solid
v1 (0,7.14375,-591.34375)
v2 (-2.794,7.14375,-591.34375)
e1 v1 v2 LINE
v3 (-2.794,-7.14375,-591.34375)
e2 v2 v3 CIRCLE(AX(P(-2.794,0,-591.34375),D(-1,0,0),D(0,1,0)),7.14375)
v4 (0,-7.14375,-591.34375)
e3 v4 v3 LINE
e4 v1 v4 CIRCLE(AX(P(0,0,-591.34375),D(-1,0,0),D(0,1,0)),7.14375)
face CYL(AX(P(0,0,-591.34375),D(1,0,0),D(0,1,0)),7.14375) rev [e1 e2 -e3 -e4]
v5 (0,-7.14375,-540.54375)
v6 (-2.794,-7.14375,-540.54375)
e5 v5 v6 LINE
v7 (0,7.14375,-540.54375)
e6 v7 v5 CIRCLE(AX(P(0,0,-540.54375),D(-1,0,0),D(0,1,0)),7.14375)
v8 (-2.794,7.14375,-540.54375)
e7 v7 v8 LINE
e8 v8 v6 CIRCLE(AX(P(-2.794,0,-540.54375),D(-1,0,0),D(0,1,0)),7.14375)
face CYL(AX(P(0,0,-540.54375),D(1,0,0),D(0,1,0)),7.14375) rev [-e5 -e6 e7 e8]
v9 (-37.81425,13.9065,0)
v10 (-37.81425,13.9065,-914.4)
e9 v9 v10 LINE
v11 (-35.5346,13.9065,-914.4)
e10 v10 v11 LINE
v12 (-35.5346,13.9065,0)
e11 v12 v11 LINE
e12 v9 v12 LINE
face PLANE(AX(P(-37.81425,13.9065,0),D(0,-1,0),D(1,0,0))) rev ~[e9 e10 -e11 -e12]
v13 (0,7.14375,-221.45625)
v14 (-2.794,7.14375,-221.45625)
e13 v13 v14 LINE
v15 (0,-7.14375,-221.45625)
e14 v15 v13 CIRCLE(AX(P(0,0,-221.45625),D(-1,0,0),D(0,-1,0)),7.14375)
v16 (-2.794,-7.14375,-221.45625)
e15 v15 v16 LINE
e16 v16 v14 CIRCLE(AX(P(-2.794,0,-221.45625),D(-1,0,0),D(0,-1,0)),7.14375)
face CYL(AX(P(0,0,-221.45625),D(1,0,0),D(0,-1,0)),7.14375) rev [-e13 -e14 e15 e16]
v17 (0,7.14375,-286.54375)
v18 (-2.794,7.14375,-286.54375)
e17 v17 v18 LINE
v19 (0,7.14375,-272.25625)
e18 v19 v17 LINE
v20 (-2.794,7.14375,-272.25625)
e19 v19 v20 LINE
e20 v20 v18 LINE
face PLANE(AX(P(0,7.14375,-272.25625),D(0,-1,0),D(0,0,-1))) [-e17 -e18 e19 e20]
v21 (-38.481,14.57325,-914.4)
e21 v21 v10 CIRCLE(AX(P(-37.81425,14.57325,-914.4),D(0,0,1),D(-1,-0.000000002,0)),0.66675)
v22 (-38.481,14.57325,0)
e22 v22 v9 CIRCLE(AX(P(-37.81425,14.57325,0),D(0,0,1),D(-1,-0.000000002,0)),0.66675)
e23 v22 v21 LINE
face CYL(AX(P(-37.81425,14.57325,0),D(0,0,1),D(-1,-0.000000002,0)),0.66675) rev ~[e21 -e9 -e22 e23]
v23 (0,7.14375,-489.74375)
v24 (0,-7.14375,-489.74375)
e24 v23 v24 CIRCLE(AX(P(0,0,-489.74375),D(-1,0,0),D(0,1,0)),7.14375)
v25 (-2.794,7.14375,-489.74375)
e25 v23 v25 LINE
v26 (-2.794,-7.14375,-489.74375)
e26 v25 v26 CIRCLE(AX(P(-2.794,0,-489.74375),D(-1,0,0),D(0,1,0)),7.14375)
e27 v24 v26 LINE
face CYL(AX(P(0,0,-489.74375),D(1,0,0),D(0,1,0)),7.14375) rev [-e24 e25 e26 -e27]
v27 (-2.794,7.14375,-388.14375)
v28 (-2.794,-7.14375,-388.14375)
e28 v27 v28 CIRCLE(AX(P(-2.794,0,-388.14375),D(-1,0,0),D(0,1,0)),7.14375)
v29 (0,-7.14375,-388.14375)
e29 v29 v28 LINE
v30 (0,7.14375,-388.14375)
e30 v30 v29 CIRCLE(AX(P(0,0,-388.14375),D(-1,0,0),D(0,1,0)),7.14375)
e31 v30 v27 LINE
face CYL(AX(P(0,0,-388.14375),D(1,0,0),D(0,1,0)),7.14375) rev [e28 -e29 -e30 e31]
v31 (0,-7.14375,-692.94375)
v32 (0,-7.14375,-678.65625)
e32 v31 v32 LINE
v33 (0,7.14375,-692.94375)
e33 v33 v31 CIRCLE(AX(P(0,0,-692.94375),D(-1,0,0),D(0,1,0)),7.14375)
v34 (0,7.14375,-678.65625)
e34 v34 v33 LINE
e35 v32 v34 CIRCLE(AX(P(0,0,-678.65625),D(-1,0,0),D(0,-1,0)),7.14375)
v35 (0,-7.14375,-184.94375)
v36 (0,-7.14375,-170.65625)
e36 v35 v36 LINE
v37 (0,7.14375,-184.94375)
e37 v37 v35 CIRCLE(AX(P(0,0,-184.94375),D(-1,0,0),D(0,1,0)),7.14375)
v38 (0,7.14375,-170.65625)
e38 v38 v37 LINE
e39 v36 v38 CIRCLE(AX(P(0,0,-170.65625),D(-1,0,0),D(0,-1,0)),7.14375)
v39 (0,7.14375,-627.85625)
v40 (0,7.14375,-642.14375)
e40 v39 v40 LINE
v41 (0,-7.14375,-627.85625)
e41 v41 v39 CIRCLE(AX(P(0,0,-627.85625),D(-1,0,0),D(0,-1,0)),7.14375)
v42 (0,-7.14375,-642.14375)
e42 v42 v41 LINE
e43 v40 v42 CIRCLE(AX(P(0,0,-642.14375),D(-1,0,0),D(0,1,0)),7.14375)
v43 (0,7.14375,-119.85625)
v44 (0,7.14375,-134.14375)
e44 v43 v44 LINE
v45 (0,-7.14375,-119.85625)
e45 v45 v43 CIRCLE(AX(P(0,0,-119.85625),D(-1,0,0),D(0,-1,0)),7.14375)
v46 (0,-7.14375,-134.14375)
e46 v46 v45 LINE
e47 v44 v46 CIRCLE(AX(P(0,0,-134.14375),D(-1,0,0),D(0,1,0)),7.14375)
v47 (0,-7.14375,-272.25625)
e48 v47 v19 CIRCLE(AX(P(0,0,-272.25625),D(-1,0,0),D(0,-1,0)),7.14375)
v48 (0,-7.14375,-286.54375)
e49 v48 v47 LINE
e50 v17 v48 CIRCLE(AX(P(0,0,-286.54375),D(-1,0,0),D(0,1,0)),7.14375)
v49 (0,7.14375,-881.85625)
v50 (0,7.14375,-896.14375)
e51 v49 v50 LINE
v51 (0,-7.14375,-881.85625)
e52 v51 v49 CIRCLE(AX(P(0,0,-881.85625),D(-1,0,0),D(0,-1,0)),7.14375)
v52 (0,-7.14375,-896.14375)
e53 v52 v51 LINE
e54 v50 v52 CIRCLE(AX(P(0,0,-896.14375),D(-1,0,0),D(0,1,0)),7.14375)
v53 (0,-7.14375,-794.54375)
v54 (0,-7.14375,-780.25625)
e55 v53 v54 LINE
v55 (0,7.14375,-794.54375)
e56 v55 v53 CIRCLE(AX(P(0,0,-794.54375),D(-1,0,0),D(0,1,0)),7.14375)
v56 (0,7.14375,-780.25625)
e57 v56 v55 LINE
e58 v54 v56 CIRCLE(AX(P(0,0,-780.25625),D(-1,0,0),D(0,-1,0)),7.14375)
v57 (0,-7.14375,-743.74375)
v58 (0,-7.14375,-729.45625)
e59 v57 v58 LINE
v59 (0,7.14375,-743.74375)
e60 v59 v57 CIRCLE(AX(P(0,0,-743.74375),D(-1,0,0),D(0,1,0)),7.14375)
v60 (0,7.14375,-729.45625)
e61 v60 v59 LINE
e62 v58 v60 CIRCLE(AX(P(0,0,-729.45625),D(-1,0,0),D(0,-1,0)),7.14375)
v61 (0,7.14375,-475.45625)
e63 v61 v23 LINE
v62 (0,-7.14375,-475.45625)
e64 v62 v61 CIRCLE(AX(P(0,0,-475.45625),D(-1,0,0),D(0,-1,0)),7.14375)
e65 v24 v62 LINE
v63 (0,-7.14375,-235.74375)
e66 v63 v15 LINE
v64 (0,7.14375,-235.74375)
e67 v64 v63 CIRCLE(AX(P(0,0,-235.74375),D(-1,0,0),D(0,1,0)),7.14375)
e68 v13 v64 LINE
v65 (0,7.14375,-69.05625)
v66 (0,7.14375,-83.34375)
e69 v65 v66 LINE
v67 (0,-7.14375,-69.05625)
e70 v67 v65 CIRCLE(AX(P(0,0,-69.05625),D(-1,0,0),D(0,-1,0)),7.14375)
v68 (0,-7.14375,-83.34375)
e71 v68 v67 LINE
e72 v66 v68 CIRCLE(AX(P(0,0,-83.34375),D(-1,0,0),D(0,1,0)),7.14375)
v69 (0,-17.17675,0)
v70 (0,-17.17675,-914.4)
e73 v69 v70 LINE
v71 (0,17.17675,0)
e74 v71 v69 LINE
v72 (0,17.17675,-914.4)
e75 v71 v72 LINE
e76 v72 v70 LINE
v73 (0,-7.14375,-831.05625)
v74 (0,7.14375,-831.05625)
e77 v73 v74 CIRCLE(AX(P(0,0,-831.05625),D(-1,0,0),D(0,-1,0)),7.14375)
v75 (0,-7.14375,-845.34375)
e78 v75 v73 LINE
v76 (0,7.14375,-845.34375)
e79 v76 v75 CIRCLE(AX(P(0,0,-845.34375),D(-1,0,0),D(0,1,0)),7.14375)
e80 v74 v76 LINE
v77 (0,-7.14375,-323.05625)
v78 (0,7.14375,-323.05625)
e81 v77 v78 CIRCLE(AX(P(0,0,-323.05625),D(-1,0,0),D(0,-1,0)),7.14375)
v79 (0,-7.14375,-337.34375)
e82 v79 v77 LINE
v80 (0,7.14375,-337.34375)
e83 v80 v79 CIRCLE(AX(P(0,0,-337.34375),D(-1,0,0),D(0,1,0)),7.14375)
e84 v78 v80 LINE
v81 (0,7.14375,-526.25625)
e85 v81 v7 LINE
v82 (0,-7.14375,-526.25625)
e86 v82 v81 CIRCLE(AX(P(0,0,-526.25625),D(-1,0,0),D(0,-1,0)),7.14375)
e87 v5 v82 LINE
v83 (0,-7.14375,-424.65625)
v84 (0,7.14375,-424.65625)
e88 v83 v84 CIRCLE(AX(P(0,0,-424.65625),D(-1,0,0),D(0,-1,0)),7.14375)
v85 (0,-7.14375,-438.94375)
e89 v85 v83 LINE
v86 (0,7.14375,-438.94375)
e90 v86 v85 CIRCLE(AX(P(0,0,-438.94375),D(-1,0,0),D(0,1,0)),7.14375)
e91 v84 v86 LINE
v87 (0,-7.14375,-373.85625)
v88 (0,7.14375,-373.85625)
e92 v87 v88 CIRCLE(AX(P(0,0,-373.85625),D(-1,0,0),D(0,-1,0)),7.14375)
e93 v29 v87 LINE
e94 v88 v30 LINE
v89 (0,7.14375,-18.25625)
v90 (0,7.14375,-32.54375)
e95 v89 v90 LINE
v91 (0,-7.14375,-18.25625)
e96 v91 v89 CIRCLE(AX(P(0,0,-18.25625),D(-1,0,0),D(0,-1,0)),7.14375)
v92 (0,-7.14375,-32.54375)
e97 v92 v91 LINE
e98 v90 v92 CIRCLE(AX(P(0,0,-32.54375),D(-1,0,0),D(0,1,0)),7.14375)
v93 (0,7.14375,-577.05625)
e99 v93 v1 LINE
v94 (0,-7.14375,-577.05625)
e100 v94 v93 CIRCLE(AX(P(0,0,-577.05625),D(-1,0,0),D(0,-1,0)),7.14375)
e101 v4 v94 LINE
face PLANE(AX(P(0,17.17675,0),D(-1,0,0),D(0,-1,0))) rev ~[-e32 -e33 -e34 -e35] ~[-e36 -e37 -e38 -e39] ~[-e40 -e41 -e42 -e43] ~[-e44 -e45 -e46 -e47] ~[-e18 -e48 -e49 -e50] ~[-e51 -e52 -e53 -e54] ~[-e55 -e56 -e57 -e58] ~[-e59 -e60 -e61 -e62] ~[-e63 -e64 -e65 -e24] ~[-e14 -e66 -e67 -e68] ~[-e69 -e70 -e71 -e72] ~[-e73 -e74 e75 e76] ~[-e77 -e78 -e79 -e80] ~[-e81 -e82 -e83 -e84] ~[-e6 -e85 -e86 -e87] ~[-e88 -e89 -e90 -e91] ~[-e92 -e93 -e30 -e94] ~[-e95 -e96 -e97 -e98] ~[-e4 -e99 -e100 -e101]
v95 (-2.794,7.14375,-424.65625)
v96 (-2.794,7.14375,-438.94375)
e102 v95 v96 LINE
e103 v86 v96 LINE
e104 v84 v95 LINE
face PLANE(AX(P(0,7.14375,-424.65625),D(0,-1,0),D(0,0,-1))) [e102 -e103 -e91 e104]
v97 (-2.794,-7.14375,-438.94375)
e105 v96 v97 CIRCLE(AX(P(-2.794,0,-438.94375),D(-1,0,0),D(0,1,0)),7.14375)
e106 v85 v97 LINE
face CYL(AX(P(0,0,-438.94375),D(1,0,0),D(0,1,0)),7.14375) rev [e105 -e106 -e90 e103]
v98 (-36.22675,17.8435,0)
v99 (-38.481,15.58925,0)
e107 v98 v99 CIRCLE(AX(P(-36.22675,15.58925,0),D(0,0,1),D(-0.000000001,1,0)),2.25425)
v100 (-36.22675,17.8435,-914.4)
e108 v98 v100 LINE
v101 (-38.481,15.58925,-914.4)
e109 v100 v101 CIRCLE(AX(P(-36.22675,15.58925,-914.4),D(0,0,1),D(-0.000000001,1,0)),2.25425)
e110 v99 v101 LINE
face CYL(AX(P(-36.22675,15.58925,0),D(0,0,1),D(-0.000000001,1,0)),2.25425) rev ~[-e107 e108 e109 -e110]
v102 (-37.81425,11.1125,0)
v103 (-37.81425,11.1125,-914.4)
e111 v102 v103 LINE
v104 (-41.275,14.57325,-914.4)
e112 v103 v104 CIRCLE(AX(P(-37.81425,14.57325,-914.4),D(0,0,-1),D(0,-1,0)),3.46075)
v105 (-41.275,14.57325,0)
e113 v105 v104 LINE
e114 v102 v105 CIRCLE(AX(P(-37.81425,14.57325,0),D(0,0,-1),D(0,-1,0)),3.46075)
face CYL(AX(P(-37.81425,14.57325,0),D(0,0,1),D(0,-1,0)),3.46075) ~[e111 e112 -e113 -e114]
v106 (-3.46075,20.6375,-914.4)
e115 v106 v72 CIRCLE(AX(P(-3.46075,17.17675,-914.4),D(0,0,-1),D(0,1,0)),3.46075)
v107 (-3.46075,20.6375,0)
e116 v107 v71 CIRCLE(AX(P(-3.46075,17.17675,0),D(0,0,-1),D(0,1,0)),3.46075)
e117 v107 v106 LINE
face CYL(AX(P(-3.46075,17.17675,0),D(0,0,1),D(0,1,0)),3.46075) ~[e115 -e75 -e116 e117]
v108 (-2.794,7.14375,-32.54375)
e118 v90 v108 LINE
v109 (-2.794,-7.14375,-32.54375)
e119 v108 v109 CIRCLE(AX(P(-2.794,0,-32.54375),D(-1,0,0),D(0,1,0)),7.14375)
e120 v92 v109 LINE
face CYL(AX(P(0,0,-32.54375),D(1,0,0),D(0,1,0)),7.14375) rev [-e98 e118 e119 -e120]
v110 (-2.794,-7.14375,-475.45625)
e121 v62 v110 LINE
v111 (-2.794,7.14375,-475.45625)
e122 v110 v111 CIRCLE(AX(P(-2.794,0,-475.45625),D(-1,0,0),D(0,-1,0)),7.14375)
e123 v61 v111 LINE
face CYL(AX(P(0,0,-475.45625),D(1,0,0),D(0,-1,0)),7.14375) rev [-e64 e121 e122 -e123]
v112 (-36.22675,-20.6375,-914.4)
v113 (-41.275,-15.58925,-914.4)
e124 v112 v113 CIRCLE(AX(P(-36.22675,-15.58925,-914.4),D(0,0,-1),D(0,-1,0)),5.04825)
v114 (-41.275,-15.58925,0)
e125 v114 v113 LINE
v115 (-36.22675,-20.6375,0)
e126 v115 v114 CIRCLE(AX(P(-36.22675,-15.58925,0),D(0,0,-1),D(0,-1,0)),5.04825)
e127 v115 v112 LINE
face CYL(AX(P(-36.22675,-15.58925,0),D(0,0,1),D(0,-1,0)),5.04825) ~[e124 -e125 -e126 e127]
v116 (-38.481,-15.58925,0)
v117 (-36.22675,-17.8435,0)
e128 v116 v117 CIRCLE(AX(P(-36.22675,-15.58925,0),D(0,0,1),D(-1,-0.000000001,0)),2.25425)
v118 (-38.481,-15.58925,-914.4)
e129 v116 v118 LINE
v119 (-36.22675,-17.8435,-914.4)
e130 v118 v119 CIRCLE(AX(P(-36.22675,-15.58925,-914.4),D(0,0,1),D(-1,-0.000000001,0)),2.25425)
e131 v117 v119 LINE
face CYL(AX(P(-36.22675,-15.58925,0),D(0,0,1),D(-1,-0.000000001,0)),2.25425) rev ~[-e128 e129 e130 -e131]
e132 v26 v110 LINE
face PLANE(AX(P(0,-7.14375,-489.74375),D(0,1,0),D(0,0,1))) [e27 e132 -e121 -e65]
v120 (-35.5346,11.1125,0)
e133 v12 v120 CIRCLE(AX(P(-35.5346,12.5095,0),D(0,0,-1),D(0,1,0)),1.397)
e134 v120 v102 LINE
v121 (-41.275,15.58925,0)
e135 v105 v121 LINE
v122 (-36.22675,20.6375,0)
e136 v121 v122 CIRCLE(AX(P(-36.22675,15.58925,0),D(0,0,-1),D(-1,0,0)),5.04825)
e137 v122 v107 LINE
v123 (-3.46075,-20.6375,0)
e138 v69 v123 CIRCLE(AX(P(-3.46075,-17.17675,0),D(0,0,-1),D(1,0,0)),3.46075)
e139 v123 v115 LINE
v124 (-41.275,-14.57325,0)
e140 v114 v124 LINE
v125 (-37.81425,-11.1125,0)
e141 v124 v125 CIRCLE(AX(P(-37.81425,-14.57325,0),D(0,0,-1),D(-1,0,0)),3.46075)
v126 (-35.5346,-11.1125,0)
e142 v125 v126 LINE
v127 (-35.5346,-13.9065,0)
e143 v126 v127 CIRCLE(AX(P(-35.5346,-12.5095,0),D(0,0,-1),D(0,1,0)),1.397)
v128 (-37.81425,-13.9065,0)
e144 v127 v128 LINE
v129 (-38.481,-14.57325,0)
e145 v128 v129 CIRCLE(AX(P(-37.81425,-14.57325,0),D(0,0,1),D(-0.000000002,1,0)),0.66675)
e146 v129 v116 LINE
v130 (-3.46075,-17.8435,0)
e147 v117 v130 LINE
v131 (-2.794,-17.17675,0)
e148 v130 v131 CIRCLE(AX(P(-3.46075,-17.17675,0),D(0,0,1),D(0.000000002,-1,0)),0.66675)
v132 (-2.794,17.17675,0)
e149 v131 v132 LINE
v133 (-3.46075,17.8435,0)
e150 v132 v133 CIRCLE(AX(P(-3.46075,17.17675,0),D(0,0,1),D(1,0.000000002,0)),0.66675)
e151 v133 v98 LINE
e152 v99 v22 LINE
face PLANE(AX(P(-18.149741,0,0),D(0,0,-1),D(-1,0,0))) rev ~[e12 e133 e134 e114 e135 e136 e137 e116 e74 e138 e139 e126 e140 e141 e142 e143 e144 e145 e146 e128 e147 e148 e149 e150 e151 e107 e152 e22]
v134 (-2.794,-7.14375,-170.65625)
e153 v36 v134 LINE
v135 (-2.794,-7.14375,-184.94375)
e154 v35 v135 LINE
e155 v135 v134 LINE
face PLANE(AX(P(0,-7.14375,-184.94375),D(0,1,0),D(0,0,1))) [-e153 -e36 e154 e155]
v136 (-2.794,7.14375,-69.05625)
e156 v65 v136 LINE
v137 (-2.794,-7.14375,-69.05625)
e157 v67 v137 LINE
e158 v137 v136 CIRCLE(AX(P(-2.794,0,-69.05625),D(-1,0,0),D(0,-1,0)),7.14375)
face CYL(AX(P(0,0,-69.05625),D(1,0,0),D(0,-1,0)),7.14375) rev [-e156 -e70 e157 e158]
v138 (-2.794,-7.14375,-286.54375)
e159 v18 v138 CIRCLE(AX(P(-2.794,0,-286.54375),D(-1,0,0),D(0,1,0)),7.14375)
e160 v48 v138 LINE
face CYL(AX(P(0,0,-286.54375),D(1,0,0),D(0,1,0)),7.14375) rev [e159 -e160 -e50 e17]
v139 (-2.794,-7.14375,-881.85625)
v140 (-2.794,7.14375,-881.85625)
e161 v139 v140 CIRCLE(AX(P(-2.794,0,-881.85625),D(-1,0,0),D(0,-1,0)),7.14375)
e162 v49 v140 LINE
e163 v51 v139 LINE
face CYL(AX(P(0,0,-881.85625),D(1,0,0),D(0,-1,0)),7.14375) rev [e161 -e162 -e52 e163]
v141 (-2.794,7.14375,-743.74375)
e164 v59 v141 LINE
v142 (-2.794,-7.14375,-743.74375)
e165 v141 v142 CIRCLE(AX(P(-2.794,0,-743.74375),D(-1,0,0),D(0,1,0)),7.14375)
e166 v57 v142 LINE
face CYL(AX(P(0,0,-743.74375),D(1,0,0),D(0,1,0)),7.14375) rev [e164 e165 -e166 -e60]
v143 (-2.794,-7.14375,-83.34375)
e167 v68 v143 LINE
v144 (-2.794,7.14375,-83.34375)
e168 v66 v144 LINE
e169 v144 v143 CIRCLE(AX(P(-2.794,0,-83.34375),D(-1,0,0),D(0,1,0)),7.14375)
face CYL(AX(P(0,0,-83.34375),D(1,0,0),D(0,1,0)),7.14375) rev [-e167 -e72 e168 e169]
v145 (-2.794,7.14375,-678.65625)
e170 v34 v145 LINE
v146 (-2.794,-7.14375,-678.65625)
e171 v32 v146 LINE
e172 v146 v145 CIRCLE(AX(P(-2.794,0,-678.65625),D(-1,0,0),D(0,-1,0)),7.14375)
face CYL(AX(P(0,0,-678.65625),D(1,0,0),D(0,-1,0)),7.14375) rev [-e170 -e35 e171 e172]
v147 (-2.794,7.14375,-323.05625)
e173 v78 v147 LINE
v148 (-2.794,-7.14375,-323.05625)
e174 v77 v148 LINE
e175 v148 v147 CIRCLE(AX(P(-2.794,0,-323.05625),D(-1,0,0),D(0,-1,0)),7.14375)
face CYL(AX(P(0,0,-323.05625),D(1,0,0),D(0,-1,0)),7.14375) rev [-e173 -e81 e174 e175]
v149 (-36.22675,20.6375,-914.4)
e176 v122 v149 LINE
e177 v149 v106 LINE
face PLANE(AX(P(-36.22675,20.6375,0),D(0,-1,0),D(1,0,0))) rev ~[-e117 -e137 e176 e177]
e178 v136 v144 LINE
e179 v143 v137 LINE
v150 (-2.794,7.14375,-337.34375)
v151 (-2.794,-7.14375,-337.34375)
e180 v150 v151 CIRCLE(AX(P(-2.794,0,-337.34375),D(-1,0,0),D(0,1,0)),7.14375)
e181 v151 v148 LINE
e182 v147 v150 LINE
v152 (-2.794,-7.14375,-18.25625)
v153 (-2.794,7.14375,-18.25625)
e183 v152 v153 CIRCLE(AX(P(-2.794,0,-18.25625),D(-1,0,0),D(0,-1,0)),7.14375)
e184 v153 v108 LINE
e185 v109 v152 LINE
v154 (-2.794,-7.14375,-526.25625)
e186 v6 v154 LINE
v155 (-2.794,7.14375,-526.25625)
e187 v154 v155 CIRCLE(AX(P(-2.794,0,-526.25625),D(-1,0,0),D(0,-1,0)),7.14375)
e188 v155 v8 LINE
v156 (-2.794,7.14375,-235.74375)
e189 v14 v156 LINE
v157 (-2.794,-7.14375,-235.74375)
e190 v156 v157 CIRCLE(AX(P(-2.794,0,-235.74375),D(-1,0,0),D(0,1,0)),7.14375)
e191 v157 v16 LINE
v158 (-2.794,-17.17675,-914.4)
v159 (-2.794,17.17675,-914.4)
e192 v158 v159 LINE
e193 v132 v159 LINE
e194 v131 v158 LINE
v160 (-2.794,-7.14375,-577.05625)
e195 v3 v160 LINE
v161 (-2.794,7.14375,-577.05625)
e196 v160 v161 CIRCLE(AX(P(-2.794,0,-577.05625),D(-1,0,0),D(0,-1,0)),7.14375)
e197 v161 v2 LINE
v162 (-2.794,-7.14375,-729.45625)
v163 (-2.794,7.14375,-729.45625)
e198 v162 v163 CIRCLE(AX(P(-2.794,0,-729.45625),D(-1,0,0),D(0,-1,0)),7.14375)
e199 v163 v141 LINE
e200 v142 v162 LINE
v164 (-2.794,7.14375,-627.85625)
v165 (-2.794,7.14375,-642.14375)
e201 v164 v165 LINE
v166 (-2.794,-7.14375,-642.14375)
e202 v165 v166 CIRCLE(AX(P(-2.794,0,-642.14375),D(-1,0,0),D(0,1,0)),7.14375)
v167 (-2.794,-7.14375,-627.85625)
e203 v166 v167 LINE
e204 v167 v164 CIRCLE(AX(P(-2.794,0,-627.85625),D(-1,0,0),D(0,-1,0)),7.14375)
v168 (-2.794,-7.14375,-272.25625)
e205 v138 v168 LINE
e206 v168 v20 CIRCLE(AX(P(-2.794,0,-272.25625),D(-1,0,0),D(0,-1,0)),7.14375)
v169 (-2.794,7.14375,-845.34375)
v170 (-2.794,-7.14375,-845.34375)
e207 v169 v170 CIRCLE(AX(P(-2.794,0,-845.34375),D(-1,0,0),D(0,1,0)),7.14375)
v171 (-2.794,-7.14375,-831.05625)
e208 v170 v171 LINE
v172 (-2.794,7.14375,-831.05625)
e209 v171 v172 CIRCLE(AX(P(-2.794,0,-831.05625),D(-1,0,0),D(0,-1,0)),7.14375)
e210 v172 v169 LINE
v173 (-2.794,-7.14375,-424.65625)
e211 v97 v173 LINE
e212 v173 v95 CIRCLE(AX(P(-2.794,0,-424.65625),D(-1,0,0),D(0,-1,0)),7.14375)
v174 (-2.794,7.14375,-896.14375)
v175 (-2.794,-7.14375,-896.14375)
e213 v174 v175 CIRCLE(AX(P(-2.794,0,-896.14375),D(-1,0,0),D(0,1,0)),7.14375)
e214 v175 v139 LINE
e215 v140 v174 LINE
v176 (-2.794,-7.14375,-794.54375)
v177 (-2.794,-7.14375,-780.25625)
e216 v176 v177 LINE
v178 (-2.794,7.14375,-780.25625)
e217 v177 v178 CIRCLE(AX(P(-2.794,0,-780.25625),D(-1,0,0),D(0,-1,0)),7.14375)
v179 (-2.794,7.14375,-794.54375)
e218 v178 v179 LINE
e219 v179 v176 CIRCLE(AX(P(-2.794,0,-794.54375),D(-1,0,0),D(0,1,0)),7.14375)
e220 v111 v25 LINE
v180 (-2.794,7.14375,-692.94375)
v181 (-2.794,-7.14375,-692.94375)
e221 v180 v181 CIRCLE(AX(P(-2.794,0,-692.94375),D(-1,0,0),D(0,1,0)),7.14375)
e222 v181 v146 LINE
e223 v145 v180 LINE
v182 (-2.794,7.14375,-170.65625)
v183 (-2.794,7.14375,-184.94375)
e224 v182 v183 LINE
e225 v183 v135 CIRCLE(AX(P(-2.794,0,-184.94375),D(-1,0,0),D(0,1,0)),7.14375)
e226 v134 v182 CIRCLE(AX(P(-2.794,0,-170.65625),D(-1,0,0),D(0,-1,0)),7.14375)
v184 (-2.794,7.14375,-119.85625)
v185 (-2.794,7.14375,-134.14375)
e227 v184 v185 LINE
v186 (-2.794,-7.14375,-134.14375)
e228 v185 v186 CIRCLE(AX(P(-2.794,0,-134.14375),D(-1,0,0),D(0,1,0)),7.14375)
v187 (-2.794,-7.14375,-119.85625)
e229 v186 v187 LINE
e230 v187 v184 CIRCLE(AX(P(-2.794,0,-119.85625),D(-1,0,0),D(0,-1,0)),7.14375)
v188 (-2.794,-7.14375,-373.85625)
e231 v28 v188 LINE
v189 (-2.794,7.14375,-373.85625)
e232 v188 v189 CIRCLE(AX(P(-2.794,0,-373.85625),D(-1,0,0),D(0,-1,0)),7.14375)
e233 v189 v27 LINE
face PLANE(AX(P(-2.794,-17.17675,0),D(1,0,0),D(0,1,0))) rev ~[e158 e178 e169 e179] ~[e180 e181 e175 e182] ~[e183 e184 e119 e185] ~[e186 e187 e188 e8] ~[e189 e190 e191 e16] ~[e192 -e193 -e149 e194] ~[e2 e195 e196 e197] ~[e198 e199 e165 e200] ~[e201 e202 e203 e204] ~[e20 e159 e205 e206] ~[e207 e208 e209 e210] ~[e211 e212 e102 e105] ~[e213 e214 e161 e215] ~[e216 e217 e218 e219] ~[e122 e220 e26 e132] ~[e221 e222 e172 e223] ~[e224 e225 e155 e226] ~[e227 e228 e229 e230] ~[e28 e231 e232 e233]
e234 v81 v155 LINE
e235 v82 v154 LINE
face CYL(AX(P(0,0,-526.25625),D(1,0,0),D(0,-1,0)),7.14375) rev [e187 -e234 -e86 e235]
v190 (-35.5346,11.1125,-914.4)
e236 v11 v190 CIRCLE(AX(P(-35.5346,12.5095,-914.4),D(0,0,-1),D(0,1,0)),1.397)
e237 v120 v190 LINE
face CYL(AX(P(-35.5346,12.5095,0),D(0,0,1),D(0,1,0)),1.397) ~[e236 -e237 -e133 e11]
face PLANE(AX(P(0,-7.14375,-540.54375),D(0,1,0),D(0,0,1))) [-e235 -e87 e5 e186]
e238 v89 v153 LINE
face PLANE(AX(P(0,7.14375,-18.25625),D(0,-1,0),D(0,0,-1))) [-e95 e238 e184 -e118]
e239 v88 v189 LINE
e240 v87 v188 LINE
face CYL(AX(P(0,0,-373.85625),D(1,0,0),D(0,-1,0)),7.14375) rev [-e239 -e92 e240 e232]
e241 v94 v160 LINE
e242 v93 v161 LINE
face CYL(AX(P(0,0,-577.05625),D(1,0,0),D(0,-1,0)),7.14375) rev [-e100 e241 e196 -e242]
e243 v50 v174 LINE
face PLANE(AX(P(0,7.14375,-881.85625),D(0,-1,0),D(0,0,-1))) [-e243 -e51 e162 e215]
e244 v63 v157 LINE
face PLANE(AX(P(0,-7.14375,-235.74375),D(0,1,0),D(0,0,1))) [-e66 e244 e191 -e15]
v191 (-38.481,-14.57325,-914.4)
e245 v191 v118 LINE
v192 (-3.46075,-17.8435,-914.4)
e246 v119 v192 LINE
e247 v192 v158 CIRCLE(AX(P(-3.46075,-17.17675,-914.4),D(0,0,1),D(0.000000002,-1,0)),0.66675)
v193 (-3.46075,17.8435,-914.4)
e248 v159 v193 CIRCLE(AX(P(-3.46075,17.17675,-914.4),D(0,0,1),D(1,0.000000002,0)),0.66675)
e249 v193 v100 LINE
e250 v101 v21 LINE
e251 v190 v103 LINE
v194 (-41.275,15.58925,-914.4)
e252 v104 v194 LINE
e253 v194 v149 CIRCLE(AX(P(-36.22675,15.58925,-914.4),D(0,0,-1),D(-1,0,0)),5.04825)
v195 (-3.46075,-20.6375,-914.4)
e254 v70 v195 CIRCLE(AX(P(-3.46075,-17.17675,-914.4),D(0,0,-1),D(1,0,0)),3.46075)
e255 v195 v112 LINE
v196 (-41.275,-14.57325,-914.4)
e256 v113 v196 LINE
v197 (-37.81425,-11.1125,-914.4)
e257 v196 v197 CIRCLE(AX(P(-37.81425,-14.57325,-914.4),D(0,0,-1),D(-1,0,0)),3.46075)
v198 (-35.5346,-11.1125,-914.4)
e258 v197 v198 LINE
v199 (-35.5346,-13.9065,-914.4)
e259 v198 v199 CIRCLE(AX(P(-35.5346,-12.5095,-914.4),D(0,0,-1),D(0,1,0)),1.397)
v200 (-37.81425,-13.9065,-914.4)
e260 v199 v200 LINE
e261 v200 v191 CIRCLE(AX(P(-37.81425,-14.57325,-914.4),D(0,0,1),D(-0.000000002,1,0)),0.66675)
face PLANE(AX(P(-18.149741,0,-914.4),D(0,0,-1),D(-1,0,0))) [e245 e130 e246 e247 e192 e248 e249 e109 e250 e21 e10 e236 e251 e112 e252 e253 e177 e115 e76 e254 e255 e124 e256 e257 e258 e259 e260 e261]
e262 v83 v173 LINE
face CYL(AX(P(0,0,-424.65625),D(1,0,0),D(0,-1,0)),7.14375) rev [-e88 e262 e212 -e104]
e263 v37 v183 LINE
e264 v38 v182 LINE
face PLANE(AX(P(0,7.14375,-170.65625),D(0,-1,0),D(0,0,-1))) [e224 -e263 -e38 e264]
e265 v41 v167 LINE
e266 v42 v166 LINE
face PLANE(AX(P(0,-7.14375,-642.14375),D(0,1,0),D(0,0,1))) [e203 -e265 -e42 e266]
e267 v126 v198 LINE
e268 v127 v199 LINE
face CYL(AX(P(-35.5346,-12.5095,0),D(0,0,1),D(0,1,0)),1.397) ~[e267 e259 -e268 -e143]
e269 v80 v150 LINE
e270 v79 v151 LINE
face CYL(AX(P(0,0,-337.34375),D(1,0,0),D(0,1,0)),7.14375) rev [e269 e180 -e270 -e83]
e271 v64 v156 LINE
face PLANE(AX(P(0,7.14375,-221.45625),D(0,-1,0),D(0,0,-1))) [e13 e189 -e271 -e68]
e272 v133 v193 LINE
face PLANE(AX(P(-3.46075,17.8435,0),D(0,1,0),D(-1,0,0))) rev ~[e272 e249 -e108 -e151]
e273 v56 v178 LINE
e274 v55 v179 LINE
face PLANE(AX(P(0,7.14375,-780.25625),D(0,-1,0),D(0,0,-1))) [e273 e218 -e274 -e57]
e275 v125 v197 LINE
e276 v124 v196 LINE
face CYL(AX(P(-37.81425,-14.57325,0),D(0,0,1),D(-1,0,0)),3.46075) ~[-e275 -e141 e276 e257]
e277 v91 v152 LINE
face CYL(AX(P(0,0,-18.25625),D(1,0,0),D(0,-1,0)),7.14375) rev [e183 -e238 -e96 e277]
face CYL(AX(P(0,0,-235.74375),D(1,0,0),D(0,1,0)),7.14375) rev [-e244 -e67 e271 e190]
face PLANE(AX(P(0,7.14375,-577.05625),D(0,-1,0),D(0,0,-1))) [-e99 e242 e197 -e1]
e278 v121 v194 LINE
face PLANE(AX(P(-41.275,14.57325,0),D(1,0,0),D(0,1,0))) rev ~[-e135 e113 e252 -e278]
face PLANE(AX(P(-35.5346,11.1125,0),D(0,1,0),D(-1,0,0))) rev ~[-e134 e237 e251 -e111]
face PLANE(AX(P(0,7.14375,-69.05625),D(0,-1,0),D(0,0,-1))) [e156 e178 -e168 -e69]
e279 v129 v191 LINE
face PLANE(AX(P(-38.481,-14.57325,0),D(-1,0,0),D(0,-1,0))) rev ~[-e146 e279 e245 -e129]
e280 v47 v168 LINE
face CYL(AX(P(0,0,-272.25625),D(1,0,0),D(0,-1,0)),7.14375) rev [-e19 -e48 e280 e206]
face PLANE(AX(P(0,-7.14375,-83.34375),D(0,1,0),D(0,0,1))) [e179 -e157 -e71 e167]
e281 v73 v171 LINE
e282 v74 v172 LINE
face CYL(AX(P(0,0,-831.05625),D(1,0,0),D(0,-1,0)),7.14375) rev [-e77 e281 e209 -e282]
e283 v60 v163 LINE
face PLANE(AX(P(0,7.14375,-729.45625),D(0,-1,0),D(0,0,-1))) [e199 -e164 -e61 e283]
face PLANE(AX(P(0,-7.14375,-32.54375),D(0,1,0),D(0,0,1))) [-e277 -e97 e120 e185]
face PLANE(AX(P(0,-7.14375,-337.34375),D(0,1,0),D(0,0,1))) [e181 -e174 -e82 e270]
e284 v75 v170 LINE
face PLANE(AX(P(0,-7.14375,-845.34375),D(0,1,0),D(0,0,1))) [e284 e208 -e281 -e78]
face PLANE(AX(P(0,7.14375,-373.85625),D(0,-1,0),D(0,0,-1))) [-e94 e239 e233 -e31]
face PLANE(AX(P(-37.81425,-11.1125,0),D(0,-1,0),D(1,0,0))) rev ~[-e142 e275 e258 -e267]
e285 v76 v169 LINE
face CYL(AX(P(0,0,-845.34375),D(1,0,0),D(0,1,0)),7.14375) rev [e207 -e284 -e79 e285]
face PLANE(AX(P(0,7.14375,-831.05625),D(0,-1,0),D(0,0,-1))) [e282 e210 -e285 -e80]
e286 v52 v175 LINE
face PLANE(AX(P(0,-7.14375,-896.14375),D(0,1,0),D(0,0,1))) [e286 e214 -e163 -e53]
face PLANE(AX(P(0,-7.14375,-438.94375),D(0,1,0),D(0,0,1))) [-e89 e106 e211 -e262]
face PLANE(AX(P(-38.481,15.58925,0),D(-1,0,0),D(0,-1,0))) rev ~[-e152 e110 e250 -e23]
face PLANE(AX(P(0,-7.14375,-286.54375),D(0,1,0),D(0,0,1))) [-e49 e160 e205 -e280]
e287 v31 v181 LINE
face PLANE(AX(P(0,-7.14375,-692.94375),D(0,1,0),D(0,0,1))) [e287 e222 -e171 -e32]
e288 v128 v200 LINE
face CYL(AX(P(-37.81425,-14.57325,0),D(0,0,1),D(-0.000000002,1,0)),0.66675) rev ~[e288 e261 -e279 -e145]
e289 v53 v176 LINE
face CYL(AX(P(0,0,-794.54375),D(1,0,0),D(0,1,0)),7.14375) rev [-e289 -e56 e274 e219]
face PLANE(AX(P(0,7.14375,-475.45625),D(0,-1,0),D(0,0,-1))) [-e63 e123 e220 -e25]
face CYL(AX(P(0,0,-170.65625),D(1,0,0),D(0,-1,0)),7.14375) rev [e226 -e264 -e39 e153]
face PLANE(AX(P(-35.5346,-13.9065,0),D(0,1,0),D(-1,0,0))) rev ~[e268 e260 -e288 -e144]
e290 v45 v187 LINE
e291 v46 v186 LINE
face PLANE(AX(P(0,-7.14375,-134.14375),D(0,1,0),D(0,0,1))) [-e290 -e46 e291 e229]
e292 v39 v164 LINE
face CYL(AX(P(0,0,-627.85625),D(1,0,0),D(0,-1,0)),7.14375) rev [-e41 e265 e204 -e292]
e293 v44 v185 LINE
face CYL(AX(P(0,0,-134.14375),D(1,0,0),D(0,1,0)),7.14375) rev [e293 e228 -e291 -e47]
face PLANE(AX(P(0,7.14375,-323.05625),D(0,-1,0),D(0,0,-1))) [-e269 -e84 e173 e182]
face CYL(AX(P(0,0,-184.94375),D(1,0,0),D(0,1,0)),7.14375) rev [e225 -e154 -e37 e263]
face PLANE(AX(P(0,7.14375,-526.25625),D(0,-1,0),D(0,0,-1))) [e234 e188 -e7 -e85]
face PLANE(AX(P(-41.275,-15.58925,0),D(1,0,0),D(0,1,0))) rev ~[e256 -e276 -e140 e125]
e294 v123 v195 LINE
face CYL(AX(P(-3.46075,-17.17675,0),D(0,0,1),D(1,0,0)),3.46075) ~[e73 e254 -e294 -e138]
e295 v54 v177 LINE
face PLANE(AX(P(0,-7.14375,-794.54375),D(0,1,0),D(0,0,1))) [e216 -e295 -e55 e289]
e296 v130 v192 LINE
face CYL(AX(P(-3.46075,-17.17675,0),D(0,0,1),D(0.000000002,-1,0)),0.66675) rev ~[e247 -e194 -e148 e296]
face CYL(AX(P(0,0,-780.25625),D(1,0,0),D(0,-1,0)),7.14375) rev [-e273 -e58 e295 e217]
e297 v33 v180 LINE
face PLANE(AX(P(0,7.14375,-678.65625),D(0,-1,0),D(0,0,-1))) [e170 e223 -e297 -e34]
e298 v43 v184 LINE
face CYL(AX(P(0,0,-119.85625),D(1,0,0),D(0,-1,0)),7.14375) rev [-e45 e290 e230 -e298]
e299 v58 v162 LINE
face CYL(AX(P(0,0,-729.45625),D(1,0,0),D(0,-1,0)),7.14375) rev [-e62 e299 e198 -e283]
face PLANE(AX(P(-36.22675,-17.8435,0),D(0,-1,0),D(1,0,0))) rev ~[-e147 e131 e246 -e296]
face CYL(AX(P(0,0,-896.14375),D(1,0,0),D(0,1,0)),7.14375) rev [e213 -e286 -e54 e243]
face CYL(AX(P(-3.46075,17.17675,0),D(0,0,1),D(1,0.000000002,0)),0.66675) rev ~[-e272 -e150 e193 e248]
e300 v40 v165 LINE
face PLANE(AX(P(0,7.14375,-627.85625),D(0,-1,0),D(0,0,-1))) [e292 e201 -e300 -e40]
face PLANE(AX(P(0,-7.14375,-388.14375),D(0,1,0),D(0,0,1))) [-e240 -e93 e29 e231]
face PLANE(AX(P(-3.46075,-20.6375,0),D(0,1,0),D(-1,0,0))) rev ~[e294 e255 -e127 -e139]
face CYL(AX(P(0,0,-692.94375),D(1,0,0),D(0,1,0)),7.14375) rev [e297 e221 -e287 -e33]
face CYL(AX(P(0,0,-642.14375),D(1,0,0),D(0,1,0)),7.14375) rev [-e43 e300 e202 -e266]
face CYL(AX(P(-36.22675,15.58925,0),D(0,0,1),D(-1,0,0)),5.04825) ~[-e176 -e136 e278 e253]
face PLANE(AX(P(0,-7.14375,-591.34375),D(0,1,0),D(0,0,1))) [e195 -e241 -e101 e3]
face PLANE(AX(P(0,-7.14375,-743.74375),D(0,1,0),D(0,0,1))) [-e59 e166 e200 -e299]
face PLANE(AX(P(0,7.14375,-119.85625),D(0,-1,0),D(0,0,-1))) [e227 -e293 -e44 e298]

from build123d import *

# Parameters (mm, degrees)
BOSS_EXTRUDE1_DEPTH = 914.4
CUT_EXTRUDE1_DEPTH  = 2.794
LPATTERN1_COUNT     = 18
LPATTERN1_PITCH     = 50.8


with BuildPart() as part:
    # Sketch1 → Boss-Extrude1 (new body)
    with BuildSketch(Plane.XY):
        with BuildLine():
            Line((-36.22675, 20.6375), (-3.46075, 20.6375))
            ThreePointArc((-3.46075, 20.6375), (-1.013630207, 19.623869793), (0, 17.17675))
            Line((0, 17.17675), (0, -17.17675))
            ThreePointArc((0, -17.17675), (-1.013630207, -19.623869793), (-3.46075, -20.6375))
            Line((-3.46075, -20.6375), (-36.22675, -20.6375))
            ThreePointArc((-36.22675, -20.6375), (-39.796401808, -19.158901808), (-41.275, -15.58925))
            Line((-41.275, -15.58925), (-41.275, -14.57325))
            ThreePointArc((-41.275, -14.57325), (-40.261369793, -12.126130207), (-37.81425, -11.1125))
            Line((-37.81425, -11.1125), (-35.5346, -11.1125))
            ThreePointArc((-35.5346, -11.1125), (-34.1376, -12.5095), (-35.5346, -13.9065))
            Line((-35.5346, -13.9065), (-37.81425, -13.9065))
            ThreePointArc((-37.81425, -13.9065), (-38.285713446, -14.101786554), (-38.481, -14.57325))
            Line((-38.481, -14.57325), (-38.481, -15.58925))
            ThreePointArc((-38.481, -15.58925), (-37.820745461, -17.183245461), (-36.22675, -17.8435))
            Line((-36.22675, -17.8435), (-3.46075, -17.8435))
            ThreePointArc((-3.46075, -17.8435), (-2.989286554, -17.648213446), (-2.794, -17.17675))
            Line((-2.794, -17.17675), (-2.794, 17.17675))
            ThreePointArc((-2.794, 17.17675), (-2.989286554, 17.648213446), (-3.46075, 17.8435))
            Line((-3.46075, 17.8435), (-36.22675, 17.8435))
            ThreePointArc((-36.22675, 17.8435), (-37.820745461, 17.183245461), (-38.481, 15.58925))
            Line((-38.481, 15.58925), (-38.481, 14.57325))
            ThreePointArc((-38.481, 14.57325), (-38.285713446, 14.101786554), (-37.81425, 13.9065))
            Line((-37.81425, 13.9065), (-35.5346, 13.9065))
            ThreePointArc((-35.5346, 13.9065), (-34.1376, 12.5095), (-35.5346, 11.1125))
            Line((-35.5346, 11.1125), (-37.81425, 11.1125))
            ThreePointArc((-37.81425, 11.1125), (-40.261369793, 12.126130207), (-41.275, 14.57325))
            Line((-41.275, 14.57325), (-41.275, 15.58925))
            ThreePointArc((-41.275, 15.58925), (-39.796401808, 19.158901808), (-36.22675, 20.6375))
        make_face()
    extrude(amount=-BOSS_EXTRUDE1_DEPTH)

    # Sketch2 → Cut-Extrude1 (cut)
    with BuildSketch(Plane(origin=(0, 0, 0), x_dir=(0, 0, -1), z_dir=(1, 0, 0))):
        with BuildLine():
            Line((18.25625, 7.14375), (32.54375, 7.14375))
            ThreePointArc((32.54375, 7.14375), (39.6875, 0), (32.54375, -7.14375))
            Line((32.54375, -7.14375), (18.25625, -7.14375))
            ThreePointArc((18.25625, -7.14375), (11.1125, 0), (18.25625, 7.14375))
        make_face()
    cut_extrude1 = extrude(amount=-CUT_EXTRUDE1_DEPTH, mode=Mode.SUBTRACT)

    # LPattern1: Cut-Extrude1 ×18
    with Locations(*[(0, 0, -i * LPATTERN1_PITCH) for i in range(1, LPATTERN1_COUNT)]):
        add(cut_extrude1, mode=Mode.SUBTRACT)


solid = part.part
